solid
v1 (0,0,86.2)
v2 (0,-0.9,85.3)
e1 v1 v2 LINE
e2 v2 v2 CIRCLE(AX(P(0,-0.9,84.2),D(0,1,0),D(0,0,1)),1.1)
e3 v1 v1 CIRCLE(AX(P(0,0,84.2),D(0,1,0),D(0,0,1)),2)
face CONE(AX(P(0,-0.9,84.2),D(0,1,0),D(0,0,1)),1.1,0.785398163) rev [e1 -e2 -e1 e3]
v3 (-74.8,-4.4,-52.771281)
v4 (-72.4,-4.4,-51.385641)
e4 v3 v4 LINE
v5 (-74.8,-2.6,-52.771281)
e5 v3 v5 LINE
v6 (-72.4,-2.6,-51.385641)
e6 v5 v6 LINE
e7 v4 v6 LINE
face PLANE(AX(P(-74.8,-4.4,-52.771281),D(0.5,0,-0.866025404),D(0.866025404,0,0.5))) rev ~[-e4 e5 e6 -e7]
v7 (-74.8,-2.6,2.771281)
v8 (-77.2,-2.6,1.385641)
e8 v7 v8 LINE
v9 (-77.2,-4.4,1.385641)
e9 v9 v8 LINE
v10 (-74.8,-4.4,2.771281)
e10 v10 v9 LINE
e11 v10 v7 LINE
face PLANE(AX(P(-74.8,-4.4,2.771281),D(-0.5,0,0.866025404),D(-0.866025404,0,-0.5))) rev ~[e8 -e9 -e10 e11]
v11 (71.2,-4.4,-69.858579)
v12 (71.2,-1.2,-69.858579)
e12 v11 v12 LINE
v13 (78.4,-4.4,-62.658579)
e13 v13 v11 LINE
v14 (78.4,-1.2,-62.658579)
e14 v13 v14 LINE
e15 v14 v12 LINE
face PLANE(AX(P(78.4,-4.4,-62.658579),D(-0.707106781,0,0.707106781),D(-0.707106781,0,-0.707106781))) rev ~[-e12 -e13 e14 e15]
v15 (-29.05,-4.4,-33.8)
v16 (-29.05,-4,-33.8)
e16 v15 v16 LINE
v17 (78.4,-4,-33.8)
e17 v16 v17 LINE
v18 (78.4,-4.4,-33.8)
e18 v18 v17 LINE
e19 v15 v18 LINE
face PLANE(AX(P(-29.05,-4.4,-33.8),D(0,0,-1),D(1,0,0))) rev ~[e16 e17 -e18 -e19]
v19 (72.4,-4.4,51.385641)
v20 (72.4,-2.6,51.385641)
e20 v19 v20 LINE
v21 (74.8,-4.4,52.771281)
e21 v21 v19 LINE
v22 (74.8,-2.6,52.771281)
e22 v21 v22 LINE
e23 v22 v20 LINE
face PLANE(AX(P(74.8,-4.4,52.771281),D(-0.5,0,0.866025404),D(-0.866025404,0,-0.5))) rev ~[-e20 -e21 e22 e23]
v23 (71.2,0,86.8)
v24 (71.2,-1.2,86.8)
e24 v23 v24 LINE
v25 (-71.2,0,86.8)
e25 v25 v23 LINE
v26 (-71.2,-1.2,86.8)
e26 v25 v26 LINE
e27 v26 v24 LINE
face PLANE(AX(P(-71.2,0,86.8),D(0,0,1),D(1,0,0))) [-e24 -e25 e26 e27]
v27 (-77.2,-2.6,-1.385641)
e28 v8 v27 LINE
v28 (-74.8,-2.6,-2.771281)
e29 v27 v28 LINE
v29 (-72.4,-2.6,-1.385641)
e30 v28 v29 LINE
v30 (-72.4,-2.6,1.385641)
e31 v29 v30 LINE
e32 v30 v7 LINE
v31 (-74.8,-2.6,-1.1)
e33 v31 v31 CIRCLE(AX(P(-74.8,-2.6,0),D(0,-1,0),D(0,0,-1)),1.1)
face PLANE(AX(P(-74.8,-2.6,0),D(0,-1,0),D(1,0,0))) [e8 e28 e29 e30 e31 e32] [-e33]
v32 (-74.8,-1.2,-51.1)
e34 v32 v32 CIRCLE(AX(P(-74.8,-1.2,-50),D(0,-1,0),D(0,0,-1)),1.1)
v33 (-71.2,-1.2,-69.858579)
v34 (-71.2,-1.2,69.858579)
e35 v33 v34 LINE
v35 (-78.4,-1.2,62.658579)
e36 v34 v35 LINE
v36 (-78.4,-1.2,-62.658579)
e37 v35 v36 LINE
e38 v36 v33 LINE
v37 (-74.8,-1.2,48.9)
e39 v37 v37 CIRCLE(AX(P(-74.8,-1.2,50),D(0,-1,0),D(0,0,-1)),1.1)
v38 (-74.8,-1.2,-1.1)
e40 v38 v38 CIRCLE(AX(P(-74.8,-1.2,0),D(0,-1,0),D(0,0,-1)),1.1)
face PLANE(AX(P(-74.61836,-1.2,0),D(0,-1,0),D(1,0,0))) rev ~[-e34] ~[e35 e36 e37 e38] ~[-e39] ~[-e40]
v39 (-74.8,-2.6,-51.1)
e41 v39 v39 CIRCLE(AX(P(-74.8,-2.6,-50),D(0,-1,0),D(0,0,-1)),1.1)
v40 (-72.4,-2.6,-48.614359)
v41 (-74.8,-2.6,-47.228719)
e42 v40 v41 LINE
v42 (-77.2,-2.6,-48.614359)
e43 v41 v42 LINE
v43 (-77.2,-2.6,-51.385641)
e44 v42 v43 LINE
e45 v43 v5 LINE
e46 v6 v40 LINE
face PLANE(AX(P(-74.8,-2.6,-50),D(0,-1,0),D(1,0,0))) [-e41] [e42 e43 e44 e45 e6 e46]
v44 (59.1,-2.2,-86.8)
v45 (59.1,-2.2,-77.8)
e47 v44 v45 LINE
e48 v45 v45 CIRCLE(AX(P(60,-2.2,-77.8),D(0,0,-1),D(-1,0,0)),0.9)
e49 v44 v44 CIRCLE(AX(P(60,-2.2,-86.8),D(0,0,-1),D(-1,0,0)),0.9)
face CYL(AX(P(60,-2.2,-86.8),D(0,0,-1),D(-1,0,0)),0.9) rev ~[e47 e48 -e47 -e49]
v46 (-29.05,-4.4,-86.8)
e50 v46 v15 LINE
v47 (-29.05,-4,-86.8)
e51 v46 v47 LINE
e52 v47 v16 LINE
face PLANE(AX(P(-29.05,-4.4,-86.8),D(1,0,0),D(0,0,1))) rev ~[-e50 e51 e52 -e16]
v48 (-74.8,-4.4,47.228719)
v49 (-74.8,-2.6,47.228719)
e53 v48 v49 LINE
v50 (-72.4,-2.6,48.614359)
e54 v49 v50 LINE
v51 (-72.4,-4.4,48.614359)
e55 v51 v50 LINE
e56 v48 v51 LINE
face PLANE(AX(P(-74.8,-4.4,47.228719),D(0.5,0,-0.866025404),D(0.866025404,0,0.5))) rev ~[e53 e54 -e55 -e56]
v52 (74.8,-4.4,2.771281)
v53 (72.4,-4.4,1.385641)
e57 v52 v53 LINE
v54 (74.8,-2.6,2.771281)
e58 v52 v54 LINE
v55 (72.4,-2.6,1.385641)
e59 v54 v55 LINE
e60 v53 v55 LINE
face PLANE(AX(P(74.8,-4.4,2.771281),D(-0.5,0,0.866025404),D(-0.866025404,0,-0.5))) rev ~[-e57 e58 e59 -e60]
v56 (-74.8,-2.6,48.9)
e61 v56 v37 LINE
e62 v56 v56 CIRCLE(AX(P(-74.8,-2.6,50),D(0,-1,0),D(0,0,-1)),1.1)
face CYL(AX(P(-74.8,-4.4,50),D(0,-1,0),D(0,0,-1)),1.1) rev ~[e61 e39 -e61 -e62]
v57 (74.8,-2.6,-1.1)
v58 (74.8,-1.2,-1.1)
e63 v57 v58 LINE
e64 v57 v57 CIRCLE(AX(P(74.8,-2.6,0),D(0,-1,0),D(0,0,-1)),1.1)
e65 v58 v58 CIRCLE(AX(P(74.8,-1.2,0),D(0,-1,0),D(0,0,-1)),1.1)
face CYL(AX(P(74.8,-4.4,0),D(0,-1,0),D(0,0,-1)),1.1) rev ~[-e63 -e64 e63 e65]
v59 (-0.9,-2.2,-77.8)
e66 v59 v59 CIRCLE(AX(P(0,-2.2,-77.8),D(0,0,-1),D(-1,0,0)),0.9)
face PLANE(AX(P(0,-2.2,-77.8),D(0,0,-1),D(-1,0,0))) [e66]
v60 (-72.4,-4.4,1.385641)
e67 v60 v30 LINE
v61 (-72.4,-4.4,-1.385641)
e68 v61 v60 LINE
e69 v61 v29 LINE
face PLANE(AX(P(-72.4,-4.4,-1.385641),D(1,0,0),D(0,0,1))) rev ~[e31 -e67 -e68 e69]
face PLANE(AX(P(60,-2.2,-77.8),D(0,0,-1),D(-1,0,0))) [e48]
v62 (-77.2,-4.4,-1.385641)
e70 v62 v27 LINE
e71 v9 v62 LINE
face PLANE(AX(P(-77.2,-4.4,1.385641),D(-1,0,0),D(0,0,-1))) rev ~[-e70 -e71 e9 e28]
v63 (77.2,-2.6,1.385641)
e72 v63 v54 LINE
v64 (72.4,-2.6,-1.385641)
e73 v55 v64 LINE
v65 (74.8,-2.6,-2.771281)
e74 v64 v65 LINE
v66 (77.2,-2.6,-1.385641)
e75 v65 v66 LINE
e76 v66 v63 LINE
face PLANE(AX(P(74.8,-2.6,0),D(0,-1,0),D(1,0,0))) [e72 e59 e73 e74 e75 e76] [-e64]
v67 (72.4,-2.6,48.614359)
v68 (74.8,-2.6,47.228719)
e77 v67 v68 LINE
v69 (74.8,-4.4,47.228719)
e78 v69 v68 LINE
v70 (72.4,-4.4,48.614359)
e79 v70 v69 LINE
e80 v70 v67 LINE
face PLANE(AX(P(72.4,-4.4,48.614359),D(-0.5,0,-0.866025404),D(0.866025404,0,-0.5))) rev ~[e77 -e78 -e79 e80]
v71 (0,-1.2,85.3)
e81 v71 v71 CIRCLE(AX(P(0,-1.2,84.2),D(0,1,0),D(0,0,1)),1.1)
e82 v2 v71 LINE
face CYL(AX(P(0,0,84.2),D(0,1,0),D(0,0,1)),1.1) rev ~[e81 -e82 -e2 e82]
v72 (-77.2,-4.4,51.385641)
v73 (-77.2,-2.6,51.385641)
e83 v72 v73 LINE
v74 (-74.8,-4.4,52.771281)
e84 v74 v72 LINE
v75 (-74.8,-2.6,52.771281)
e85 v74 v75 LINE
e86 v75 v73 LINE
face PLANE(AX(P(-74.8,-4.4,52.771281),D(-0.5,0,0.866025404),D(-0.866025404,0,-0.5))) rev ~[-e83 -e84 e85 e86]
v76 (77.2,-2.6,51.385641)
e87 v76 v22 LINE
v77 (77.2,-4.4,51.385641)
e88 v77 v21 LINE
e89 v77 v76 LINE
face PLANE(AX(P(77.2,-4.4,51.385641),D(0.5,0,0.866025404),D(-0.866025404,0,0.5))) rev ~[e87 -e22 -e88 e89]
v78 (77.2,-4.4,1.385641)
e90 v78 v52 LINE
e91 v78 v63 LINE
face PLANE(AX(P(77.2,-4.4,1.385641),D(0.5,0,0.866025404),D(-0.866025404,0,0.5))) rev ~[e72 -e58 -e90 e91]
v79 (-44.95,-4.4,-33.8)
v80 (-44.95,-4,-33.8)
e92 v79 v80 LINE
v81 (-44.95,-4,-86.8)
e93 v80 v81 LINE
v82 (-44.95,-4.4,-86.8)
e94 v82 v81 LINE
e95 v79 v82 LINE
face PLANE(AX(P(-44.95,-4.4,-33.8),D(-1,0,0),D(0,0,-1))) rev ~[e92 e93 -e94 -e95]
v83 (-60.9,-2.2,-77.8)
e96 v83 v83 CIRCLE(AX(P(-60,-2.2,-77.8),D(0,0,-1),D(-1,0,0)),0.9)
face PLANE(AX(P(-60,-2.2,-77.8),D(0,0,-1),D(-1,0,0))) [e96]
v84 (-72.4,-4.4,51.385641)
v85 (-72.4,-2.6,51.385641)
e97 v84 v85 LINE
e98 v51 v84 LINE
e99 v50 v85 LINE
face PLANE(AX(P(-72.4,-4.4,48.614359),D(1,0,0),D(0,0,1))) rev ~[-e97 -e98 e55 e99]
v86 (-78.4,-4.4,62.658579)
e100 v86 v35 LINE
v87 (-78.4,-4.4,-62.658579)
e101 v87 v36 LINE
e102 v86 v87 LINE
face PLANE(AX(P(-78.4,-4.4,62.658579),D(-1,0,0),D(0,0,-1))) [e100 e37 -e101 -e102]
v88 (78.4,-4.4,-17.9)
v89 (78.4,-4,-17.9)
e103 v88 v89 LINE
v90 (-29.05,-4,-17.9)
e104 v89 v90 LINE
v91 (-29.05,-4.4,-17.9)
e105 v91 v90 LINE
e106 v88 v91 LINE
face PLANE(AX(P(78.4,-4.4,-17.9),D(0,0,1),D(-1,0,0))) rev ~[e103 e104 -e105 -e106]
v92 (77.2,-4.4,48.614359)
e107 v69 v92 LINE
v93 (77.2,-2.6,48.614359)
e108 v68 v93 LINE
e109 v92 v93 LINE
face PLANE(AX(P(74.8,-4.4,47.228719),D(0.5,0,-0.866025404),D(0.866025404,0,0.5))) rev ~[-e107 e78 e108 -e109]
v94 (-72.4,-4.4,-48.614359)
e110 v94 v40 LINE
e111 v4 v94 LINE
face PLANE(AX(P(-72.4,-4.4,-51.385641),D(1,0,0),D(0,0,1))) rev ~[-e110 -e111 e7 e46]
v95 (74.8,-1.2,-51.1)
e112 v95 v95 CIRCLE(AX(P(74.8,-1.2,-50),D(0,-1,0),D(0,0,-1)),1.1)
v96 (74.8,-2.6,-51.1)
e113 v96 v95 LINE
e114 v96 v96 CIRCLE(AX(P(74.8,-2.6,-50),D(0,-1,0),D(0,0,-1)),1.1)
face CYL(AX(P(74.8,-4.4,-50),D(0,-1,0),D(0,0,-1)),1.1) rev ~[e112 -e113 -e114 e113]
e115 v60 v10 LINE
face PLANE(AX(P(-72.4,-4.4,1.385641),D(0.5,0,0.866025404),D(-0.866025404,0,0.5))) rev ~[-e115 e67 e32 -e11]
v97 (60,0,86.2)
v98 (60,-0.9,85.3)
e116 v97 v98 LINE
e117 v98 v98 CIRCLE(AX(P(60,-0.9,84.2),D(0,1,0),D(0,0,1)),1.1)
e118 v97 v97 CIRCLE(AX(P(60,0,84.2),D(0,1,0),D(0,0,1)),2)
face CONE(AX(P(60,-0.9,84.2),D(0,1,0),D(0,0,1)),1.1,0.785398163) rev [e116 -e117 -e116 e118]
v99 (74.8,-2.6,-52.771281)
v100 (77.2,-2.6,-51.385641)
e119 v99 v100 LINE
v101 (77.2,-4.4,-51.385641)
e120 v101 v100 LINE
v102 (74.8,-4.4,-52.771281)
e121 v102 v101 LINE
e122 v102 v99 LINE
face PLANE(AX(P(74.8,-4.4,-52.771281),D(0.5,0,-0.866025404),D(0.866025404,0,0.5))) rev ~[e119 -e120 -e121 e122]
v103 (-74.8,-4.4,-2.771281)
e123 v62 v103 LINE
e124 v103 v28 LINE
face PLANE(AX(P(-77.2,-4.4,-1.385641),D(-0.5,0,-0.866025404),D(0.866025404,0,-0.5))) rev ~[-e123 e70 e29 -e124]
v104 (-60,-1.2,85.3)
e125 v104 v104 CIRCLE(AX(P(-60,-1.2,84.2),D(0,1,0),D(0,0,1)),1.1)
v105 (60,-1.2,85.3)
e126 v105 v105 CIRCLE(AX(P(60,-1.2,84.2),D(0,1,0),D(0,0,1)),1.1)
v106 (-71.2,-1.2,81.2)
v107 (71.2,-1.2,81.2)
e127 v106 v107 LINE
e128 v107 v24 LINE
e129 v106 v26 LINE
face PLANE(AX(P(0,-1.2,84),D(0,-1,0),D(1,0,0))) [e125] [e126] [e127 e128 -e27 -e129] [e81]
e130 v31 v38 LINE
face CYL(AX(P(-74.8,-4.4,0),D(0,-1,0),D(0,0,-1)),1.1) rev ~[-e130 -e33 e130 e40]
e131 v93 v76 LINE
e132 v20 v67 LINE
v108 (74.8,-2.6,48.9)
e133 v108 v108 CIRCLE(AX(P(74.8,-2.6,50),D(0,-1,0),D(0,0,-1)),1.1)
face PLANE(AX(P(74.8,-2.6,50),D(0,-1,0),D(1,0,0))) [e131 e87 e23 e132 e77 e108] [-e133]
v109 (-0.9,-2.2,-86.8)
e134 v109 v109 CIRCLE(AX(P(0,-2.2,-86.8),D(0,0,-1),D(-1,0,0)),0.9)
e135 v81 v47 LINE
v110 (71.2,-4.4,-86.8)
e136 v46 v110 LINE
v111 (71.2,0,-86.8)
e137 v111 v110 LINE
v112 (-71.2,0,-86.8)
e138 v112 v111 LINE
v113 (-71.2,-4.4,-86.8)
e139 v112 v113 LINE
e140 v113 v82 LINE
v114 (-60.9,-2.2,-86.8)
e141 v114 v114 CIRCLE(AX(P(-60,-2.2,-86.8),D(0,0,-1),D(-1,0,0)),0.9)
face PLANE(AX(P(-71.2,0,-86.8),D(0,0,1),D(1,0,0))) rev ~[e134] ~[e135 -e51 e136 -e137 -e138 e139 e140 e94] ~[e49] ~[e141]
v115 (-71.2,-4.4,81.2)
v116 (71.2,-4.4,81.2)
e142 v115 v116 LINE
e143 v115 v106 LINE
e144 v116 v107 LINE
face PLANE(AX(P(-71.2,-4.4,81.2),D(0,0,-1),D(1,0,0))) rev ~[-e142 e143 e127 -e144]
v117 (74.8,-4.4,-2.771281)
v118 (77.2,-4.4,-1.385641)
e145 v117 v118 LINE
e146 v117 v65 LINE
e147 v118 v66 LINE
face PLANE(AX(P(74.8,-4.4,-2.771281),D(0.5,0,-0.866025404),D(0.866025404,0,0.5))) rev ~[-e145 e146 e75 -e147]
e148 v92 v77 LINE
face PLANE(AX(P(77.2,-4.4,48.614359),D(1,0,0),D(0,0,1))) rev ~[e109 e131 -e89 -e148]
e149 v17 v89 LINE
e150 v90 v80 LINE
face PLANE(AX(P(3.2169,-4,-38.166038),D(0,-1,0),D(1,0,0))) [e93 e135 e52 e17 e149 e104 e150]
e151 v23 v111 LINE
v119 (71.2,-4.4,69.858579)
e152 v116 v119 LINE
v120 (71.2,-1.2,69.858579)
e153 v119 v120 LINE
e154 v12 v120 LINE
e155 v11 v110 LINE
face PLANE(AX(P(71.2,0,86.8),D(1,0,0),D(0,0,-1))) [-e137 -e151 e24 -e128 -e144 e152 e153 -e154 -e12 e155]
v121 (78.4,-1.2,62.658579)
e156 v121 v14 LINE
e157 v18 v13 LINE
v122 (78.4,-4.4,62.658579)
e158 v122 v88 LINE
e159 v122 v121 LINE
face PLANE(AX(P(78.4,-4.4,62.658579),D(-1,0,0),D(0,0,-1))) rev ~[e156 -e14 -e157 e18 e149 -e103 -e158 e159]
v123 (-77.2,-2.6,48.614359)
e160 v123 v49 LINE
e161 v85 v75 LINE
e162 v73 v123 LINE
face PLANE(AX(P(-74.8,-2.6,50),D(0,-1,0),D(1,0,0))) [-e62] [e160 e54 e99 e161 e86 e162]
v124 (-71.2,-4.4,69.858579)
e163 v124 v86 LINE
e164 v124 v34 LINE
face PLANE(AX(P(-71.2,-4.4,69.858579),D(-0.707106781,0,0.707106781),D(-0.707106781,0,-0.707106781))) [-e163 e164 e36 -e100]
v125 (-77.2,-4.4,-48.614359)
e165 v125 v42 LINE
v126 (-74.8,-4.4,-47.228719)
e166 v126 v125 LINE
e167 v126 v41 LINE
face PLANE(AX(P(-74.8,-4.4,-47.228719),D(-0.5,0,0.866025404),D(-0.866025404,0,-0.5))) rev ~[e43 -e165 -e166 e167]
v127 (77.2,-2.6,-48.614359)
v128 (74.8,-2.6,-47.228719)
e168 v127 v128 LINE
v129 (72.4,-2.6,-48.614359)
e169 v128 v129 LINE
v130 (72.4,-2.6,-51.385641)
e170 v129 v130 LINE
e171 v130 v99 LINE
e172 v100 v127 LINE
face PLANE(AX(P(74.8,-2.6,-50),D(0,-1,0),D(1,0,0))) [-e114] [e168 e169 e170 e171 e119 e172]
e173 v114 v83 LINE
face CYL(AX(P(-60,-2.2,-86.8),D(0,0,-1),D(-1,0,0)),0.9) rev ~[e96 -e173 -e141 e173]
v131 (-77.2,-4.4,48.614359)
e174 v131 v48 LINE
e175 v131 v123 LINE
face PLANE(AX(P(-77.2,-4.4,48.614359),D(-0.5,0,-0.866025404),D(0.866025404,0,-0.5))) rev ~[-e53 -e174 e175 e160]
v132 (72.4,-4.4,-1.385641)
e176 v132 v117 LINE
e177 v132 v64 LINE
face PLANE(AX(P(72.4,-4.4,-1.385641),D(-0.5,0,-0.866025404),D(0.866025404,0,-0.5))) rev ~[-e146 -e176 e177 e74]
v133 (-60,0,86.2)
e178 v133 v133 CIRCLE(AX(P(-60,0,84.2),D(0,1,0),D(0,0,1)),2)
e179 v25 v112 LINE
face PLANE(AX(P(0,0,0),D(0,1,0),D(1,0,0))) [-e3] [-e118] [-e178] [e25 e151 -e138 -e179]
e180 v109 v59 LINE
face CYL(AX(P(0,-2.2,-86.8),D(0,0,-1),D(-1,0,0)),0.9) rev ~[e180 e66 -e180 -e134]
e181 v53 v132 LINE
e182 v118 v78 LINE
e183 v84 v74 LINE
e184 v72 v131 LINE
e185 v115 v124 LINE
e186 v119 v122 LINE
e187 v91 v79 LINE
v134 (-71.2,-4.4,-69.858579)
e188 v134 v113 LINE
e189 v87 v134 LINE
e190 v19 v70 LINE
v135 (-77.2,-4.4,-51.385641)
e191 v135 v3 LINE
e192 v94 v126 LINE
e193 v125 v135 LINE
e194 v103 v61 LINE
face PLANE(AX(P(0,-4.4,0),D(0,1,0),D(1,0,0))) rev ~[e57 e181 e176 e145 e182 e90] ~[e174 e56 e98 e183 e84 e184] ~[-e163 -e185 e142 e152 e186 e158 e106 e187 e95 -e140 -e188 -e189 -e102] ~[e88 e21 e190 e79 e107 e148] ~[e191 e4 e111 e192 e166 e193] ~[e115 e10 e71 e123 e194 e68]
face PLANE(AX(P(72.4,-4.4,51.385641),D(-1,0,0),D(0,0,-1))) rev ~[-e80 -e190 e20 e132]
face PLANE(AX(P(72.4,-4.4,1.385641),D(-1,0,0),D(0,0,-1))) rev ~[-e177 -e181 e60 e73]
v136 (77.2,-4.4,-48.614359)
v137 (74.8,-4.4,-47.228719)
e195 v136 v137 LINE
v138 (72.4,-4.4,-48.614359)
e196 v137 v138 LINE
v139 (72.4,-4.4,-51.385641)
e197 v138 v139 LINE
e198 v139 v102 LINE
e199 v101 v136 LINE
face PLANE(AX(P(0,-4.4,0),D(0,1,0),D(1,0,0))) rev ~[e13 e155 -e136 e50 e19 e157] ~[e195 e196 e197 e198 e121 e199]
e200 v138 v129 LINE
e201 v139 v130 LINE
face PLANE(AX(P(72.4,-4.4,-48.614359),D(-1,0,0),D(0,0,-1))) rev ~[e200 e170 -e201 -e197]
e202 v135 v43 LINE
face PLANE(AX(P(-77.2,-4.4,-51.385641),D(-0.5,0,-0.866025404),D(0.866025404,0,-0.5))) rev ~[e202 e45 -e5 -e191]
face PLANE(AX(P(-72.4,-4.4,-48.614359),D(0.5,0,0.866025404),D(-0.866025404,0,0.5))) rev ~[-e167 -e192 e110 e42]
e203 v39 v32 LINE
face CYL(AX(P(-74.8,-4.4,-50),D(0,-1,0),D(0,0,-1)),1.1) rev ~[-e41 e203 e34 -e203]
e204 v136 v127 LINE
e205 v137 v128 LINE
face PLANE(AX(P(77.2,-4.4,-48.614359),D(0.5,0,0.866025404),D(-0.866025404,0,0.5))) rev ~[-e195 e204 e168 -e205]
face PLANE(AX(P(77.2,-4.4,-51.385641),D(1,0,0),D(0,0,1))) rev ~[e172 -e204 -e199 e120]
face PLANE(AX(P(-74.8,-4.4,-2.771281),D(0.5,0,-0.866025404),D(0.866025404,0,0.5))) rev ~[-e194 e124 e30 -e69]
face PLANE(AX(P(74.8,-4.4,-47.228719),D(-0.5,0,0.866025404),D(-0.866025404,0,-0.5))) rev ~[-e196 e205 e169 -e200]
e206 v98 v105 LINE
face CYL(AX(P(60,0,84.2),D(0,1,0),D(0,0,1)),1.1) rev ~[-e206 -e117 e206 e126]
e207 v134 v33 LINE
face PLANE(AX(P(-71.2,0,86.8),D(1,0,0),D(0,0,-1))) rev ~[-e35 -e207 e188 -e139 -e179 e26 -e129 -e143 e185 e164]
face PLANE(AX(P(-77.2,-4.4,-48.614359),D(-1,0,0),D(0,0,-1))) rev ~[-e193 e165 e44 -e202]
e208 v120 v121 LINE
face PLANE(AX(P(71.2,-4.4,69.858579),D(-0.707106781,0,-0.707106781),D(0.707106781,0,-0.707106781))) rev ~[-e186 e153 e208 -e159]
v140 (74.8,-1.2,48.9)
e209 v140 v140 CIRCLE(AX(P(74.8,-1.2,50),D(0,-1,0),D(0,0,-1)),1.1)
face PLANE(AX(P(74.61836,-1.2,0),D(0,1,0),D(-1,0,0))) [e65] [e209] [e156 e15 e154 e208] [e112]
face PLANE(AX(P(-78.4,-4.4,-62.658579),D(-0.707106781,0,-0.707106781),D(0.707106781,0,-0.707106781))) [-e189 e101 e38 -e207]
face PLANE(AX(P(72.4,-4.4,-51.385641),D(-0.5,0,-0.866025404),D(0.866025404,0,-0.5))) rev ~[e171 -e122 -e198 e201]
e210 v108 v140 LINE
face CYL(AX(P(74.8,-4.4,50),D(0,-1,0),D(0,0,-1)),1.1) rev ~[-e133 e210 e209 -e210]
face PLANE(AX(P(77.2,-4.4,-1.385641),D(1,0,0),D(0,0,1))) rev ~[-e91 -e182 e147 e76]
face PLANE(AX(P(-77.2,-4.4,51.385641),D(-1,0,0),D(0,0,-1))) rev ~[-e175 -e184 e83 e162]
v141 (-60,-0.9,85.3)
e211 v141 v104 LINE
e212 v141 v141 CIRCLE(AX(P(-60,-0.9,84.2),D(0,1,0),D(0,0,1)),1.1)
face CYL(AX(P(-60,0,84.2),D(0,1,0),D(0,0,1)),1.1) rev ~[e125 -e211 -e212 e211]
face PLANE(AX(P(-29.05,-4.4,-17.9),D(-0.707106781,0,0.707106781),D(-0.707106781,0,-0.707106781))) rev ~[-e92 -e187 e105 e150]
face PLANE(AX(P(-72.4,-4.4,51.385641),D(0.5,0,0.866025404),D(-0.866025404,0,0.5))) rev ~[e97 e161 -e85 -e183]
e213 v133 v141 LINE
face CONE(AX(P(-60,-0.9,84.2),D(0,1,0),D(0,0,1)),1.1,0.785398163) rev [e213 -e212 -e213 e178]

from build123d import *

# Parameters (mm, degrees)
SKETCH1_W           = 142.4
SKETCH1_H           = 173.6
BOSS_EXTRUDE1_DEPTH = 4.4
SKETCH2_W           = 142.4
SKETCH2_H           = 5.6
CUT_EXTRUDE1_DEPTH  = 3.2
CUT_EXTRUDE2_REACH  = 114.352
SKETCH3_R           = 1.1
SKETCH4_R           = 0.9
CUT_EXTRUDE3_DEPTH  = 9
CHAMFER2_SIZE       = 0.9
BOSS_EXTRUDE2_DEPTH = 3.2
SKETCH6_R           = 1.1
CUT_EXTRUDE4_DEPTH  = 118.047682591
CUT_EXTRUDE5_DEPTH  = 1.8
CUT_EXTRUDE6_DEPTH  = 0.4


with BuildPart() as part:
    # Sketch1 → Boss-Extrude1 (new body)
    with BuildSketch(Plane(origin=(0, 0, 0), x_dir=(1, 0, 0), z_dir=(0, 1, 0))):
        Rectangle(SKETCH1_W, SKETCH1_H)
    extrude(amount=-BOSS_EXTRUDE1_DEPTH)

    # Sketch2 → Cut-Extrude1 (cut)
    with BuildSketch(Plane.XZ.offset(4.4)):
        with Locations((0, 84)):
            Rectangle(SKETCH2_W, SKETCH2_H)
    extrude(amount=-CUT_EXTRUDE1_DEPTH, mode=Mode.SUBTRACT)

    # Sketch3 → Cut-Extrude2 (cut, up to next)
    with BuildSketch(Plane(origin=(0, 0, 0), x_dir=(1, 0, 0), z_dir=(0, 1, 0)), mode=Mode.PRIVATE) as cut_extrude2_sk1:
        with Locations(Location((60, -84.2, 0), (0, 0, 270))):
            Circle(SKETCH3_R)
    cut_extrude2_tool1 = extrude(cut_extrude2_sk1.sketch, amount=-CUT_EXTRUDE2_REACH, mode=Mode.PRIVATE) & part.part
    # Sketch3 → Cut-Extrude2 (cut, up to next)
    with BuildSketch(Plane(origin=(0, 0, 0), x_dir=(1, 0, 0), z_dir=(0, 1, 0)), mode=Mode.PRIVATE) as cut_extrude2_sk2:
        with Locations(Location((-60, -84.2, 0), (0, 0, 270))):
            Circle(SKETCH3_R)
    cut_extrude2_tool2 = extrude(cut_extrude2_sk2.sketch, amount=-CUT_EXTRUDE2_REACH, mode=Mode.PRIVATE) & part.part
    # Sketch3 → Cut-Extrude2 (cut, up to next)
    with BuildSketch(Plane(origin=(0, 0, 0), x_dir=(1, 0, 0), z_dir=(0, 1, 0)), mode=Mode.PRIVATE) as cut_extrude2_sk3:
        with Locations(Location((0, -84.2, 0), (0, 0, 270))):
            Circle(SKETCH3_R)
    cut_extrude2_tool3 = extrude(cut_extrude2_sk3.sketch, amount=-CUT_EXTRUDE2_REACH, mode=Mode.PRIVATE) & part.part
    add(cut_extrude2_tool1.solids().sort_by_distance((60, 0, 84.2))[0], mode=Mode.SUBTRACT)
    add(cut_extrude2_tool2.solids().sort_by_distance((-60, 0, 84.2))[0], mode=Mode.SUBTRACT)
    add(cut_extrude2_tool3.solids().sort_by_distance((0, 0, 84.2))[0], mode=Mode.SUBTRACT)

    # Sketch4 → Cut-Extrude3 (cut)
    with BuildSketch(Plane(origin=(0, 0, -86.8), x_dir=(-1, 0, 0), z_dir=(0, 0, -1))):
        with Locations((0, -2.2)):
            Circle(SKETCH4_R)
        with Locations((60, -2.2)):
            Circle(SKETCH4_R)
        with Locations((-60, -2.2)):
            Circle(SKETCH4_R)
    extrude(amount=-CUT_EXTRUDE3_DEPTH, mode=Mode.SUBTRACT)

    # Chamfer2
    chamfer2_edges = [part.edges().sort_by_distance(p)[0] for p in [
        (60, 0, 83.1),
        (-60, 0, 83.1),
        (0, 0, 83.1),
    ]]
    chamfer(chamfer2_edges, length=CHAMFER2_SIZE)

    # Sketch5 → Boss-Extrude2 (add)
    with BuildSketch(Plane.XZ.offset(4.4)):
        Polygon((-71.2, 69.858578644), (-78.4, 62.658578644), (-78.4, -62.658578644), (-71.2, -69.858578644), align=None)
        Polygon((71.2, 69.858578644), (78.4, 62.658578644), (78.4, -62.658578644), (71.2, -69.858578644), align=None)
    extrude(amount=-BOSS_EXTRUDE2_DEPTH)

    # Sketch6 → Cut-Extrude4 (cut, through all)
    with BuildSketch(Plane.XZ.offset(4.4)):
        with Locations(Location((74.8, 50, 0), (0, 0, 270))):
            Circle(SKETCH6_R)
        with Locations(Location((74.8, 0, 0), (0, 0, 270))):
            Circle(SKETCH6_R)
        with Locations(Location((74.8, -50, 0), (0, 0, 270))):
            Circle(SKETCH6_R)
        with Locations(Location((-74.8, 50, 0), (0, 0, 270))):
            Circle(SKETCH6_R)
        with Locations(Location((-74.8, 0, 0), (0, 0, 270))):
            Circle(SKETCH6_R)
        with Locations(Location((-74.8, -50, 0), (0, 0, 270))):
            Circle(SKETCH6_R)
    extrude(amount=-CUT_EXTRUDE4_DEPTH, mode=Mode.SUBTRACT)

    # Sketch7 → Cut-Extrude5 (cut)
    with BuildSketch(Plane.XZ.offset(4.4)):
        Polygon((72.4, 48.614359354), (74.8, 47.228718708), (77.2, 48.614359354), (77.2, 51.385640646), (74.8, 52.771281292), (72.4, 51.385640646), align=None)
        Polygon((77.2, 1.385640646), (74.8, 2.771281292), (72.4, 1.385640646), (72.4, -1.385640646), (74.8, -2.771281292), (77.2, -1.385640646), align=None)
        Polygon((77.2, -48.614359354), (74.8, -47.228718708), (72.4, -48.614359354), (72.4, -51.385640646), (74.8, -52.771281292), (77.2, -51.385640646), align=None)
        Polygon((-72.4, -51.385640646), (-72.4, -48.614359354), (-74.8, -47.228718708), (-77.2, -48.614359354), (-77.2, -51.385640646), (-74.8, -52.771281292), align=None)
        Polygon((-72.4, -1.385640646), (-72.4, 1.385640646), (-74.8, 2.771281292), (-77.2, 1.385640646), (-77.2, -1.385640646), (-74.8, -2.771281292), align=None)
        Polygon((-72.4, 48.614359354), (-72.4, 51.385640646), (-74.8, 52.771281292), (-77.2, 51.385640646), (-77.2, 48.614359354), (-74.8, 47.228718708), align=None)
    extrude(amount=-CUT_EXTRUDE5_DEPTH, mode=Mode.SUBTRACT)

    # Sketch8 → Cut-Extrude6 (cut)
    with BuildSketch(Plane.XZ.offset(4.4)):
        Polygon((78.4, -17.9), (-29.05, -17.9), (-44.95, -33.8), (-44.95, -86.8), (-29.05, -86.8), (-29.05, -33.8), (78.4, -33.8), align=None)
    extrude(amount=-CUT_EXTRUDE6_DEPTH, mode=Mode.SUBTRACT)


solid = part.part
